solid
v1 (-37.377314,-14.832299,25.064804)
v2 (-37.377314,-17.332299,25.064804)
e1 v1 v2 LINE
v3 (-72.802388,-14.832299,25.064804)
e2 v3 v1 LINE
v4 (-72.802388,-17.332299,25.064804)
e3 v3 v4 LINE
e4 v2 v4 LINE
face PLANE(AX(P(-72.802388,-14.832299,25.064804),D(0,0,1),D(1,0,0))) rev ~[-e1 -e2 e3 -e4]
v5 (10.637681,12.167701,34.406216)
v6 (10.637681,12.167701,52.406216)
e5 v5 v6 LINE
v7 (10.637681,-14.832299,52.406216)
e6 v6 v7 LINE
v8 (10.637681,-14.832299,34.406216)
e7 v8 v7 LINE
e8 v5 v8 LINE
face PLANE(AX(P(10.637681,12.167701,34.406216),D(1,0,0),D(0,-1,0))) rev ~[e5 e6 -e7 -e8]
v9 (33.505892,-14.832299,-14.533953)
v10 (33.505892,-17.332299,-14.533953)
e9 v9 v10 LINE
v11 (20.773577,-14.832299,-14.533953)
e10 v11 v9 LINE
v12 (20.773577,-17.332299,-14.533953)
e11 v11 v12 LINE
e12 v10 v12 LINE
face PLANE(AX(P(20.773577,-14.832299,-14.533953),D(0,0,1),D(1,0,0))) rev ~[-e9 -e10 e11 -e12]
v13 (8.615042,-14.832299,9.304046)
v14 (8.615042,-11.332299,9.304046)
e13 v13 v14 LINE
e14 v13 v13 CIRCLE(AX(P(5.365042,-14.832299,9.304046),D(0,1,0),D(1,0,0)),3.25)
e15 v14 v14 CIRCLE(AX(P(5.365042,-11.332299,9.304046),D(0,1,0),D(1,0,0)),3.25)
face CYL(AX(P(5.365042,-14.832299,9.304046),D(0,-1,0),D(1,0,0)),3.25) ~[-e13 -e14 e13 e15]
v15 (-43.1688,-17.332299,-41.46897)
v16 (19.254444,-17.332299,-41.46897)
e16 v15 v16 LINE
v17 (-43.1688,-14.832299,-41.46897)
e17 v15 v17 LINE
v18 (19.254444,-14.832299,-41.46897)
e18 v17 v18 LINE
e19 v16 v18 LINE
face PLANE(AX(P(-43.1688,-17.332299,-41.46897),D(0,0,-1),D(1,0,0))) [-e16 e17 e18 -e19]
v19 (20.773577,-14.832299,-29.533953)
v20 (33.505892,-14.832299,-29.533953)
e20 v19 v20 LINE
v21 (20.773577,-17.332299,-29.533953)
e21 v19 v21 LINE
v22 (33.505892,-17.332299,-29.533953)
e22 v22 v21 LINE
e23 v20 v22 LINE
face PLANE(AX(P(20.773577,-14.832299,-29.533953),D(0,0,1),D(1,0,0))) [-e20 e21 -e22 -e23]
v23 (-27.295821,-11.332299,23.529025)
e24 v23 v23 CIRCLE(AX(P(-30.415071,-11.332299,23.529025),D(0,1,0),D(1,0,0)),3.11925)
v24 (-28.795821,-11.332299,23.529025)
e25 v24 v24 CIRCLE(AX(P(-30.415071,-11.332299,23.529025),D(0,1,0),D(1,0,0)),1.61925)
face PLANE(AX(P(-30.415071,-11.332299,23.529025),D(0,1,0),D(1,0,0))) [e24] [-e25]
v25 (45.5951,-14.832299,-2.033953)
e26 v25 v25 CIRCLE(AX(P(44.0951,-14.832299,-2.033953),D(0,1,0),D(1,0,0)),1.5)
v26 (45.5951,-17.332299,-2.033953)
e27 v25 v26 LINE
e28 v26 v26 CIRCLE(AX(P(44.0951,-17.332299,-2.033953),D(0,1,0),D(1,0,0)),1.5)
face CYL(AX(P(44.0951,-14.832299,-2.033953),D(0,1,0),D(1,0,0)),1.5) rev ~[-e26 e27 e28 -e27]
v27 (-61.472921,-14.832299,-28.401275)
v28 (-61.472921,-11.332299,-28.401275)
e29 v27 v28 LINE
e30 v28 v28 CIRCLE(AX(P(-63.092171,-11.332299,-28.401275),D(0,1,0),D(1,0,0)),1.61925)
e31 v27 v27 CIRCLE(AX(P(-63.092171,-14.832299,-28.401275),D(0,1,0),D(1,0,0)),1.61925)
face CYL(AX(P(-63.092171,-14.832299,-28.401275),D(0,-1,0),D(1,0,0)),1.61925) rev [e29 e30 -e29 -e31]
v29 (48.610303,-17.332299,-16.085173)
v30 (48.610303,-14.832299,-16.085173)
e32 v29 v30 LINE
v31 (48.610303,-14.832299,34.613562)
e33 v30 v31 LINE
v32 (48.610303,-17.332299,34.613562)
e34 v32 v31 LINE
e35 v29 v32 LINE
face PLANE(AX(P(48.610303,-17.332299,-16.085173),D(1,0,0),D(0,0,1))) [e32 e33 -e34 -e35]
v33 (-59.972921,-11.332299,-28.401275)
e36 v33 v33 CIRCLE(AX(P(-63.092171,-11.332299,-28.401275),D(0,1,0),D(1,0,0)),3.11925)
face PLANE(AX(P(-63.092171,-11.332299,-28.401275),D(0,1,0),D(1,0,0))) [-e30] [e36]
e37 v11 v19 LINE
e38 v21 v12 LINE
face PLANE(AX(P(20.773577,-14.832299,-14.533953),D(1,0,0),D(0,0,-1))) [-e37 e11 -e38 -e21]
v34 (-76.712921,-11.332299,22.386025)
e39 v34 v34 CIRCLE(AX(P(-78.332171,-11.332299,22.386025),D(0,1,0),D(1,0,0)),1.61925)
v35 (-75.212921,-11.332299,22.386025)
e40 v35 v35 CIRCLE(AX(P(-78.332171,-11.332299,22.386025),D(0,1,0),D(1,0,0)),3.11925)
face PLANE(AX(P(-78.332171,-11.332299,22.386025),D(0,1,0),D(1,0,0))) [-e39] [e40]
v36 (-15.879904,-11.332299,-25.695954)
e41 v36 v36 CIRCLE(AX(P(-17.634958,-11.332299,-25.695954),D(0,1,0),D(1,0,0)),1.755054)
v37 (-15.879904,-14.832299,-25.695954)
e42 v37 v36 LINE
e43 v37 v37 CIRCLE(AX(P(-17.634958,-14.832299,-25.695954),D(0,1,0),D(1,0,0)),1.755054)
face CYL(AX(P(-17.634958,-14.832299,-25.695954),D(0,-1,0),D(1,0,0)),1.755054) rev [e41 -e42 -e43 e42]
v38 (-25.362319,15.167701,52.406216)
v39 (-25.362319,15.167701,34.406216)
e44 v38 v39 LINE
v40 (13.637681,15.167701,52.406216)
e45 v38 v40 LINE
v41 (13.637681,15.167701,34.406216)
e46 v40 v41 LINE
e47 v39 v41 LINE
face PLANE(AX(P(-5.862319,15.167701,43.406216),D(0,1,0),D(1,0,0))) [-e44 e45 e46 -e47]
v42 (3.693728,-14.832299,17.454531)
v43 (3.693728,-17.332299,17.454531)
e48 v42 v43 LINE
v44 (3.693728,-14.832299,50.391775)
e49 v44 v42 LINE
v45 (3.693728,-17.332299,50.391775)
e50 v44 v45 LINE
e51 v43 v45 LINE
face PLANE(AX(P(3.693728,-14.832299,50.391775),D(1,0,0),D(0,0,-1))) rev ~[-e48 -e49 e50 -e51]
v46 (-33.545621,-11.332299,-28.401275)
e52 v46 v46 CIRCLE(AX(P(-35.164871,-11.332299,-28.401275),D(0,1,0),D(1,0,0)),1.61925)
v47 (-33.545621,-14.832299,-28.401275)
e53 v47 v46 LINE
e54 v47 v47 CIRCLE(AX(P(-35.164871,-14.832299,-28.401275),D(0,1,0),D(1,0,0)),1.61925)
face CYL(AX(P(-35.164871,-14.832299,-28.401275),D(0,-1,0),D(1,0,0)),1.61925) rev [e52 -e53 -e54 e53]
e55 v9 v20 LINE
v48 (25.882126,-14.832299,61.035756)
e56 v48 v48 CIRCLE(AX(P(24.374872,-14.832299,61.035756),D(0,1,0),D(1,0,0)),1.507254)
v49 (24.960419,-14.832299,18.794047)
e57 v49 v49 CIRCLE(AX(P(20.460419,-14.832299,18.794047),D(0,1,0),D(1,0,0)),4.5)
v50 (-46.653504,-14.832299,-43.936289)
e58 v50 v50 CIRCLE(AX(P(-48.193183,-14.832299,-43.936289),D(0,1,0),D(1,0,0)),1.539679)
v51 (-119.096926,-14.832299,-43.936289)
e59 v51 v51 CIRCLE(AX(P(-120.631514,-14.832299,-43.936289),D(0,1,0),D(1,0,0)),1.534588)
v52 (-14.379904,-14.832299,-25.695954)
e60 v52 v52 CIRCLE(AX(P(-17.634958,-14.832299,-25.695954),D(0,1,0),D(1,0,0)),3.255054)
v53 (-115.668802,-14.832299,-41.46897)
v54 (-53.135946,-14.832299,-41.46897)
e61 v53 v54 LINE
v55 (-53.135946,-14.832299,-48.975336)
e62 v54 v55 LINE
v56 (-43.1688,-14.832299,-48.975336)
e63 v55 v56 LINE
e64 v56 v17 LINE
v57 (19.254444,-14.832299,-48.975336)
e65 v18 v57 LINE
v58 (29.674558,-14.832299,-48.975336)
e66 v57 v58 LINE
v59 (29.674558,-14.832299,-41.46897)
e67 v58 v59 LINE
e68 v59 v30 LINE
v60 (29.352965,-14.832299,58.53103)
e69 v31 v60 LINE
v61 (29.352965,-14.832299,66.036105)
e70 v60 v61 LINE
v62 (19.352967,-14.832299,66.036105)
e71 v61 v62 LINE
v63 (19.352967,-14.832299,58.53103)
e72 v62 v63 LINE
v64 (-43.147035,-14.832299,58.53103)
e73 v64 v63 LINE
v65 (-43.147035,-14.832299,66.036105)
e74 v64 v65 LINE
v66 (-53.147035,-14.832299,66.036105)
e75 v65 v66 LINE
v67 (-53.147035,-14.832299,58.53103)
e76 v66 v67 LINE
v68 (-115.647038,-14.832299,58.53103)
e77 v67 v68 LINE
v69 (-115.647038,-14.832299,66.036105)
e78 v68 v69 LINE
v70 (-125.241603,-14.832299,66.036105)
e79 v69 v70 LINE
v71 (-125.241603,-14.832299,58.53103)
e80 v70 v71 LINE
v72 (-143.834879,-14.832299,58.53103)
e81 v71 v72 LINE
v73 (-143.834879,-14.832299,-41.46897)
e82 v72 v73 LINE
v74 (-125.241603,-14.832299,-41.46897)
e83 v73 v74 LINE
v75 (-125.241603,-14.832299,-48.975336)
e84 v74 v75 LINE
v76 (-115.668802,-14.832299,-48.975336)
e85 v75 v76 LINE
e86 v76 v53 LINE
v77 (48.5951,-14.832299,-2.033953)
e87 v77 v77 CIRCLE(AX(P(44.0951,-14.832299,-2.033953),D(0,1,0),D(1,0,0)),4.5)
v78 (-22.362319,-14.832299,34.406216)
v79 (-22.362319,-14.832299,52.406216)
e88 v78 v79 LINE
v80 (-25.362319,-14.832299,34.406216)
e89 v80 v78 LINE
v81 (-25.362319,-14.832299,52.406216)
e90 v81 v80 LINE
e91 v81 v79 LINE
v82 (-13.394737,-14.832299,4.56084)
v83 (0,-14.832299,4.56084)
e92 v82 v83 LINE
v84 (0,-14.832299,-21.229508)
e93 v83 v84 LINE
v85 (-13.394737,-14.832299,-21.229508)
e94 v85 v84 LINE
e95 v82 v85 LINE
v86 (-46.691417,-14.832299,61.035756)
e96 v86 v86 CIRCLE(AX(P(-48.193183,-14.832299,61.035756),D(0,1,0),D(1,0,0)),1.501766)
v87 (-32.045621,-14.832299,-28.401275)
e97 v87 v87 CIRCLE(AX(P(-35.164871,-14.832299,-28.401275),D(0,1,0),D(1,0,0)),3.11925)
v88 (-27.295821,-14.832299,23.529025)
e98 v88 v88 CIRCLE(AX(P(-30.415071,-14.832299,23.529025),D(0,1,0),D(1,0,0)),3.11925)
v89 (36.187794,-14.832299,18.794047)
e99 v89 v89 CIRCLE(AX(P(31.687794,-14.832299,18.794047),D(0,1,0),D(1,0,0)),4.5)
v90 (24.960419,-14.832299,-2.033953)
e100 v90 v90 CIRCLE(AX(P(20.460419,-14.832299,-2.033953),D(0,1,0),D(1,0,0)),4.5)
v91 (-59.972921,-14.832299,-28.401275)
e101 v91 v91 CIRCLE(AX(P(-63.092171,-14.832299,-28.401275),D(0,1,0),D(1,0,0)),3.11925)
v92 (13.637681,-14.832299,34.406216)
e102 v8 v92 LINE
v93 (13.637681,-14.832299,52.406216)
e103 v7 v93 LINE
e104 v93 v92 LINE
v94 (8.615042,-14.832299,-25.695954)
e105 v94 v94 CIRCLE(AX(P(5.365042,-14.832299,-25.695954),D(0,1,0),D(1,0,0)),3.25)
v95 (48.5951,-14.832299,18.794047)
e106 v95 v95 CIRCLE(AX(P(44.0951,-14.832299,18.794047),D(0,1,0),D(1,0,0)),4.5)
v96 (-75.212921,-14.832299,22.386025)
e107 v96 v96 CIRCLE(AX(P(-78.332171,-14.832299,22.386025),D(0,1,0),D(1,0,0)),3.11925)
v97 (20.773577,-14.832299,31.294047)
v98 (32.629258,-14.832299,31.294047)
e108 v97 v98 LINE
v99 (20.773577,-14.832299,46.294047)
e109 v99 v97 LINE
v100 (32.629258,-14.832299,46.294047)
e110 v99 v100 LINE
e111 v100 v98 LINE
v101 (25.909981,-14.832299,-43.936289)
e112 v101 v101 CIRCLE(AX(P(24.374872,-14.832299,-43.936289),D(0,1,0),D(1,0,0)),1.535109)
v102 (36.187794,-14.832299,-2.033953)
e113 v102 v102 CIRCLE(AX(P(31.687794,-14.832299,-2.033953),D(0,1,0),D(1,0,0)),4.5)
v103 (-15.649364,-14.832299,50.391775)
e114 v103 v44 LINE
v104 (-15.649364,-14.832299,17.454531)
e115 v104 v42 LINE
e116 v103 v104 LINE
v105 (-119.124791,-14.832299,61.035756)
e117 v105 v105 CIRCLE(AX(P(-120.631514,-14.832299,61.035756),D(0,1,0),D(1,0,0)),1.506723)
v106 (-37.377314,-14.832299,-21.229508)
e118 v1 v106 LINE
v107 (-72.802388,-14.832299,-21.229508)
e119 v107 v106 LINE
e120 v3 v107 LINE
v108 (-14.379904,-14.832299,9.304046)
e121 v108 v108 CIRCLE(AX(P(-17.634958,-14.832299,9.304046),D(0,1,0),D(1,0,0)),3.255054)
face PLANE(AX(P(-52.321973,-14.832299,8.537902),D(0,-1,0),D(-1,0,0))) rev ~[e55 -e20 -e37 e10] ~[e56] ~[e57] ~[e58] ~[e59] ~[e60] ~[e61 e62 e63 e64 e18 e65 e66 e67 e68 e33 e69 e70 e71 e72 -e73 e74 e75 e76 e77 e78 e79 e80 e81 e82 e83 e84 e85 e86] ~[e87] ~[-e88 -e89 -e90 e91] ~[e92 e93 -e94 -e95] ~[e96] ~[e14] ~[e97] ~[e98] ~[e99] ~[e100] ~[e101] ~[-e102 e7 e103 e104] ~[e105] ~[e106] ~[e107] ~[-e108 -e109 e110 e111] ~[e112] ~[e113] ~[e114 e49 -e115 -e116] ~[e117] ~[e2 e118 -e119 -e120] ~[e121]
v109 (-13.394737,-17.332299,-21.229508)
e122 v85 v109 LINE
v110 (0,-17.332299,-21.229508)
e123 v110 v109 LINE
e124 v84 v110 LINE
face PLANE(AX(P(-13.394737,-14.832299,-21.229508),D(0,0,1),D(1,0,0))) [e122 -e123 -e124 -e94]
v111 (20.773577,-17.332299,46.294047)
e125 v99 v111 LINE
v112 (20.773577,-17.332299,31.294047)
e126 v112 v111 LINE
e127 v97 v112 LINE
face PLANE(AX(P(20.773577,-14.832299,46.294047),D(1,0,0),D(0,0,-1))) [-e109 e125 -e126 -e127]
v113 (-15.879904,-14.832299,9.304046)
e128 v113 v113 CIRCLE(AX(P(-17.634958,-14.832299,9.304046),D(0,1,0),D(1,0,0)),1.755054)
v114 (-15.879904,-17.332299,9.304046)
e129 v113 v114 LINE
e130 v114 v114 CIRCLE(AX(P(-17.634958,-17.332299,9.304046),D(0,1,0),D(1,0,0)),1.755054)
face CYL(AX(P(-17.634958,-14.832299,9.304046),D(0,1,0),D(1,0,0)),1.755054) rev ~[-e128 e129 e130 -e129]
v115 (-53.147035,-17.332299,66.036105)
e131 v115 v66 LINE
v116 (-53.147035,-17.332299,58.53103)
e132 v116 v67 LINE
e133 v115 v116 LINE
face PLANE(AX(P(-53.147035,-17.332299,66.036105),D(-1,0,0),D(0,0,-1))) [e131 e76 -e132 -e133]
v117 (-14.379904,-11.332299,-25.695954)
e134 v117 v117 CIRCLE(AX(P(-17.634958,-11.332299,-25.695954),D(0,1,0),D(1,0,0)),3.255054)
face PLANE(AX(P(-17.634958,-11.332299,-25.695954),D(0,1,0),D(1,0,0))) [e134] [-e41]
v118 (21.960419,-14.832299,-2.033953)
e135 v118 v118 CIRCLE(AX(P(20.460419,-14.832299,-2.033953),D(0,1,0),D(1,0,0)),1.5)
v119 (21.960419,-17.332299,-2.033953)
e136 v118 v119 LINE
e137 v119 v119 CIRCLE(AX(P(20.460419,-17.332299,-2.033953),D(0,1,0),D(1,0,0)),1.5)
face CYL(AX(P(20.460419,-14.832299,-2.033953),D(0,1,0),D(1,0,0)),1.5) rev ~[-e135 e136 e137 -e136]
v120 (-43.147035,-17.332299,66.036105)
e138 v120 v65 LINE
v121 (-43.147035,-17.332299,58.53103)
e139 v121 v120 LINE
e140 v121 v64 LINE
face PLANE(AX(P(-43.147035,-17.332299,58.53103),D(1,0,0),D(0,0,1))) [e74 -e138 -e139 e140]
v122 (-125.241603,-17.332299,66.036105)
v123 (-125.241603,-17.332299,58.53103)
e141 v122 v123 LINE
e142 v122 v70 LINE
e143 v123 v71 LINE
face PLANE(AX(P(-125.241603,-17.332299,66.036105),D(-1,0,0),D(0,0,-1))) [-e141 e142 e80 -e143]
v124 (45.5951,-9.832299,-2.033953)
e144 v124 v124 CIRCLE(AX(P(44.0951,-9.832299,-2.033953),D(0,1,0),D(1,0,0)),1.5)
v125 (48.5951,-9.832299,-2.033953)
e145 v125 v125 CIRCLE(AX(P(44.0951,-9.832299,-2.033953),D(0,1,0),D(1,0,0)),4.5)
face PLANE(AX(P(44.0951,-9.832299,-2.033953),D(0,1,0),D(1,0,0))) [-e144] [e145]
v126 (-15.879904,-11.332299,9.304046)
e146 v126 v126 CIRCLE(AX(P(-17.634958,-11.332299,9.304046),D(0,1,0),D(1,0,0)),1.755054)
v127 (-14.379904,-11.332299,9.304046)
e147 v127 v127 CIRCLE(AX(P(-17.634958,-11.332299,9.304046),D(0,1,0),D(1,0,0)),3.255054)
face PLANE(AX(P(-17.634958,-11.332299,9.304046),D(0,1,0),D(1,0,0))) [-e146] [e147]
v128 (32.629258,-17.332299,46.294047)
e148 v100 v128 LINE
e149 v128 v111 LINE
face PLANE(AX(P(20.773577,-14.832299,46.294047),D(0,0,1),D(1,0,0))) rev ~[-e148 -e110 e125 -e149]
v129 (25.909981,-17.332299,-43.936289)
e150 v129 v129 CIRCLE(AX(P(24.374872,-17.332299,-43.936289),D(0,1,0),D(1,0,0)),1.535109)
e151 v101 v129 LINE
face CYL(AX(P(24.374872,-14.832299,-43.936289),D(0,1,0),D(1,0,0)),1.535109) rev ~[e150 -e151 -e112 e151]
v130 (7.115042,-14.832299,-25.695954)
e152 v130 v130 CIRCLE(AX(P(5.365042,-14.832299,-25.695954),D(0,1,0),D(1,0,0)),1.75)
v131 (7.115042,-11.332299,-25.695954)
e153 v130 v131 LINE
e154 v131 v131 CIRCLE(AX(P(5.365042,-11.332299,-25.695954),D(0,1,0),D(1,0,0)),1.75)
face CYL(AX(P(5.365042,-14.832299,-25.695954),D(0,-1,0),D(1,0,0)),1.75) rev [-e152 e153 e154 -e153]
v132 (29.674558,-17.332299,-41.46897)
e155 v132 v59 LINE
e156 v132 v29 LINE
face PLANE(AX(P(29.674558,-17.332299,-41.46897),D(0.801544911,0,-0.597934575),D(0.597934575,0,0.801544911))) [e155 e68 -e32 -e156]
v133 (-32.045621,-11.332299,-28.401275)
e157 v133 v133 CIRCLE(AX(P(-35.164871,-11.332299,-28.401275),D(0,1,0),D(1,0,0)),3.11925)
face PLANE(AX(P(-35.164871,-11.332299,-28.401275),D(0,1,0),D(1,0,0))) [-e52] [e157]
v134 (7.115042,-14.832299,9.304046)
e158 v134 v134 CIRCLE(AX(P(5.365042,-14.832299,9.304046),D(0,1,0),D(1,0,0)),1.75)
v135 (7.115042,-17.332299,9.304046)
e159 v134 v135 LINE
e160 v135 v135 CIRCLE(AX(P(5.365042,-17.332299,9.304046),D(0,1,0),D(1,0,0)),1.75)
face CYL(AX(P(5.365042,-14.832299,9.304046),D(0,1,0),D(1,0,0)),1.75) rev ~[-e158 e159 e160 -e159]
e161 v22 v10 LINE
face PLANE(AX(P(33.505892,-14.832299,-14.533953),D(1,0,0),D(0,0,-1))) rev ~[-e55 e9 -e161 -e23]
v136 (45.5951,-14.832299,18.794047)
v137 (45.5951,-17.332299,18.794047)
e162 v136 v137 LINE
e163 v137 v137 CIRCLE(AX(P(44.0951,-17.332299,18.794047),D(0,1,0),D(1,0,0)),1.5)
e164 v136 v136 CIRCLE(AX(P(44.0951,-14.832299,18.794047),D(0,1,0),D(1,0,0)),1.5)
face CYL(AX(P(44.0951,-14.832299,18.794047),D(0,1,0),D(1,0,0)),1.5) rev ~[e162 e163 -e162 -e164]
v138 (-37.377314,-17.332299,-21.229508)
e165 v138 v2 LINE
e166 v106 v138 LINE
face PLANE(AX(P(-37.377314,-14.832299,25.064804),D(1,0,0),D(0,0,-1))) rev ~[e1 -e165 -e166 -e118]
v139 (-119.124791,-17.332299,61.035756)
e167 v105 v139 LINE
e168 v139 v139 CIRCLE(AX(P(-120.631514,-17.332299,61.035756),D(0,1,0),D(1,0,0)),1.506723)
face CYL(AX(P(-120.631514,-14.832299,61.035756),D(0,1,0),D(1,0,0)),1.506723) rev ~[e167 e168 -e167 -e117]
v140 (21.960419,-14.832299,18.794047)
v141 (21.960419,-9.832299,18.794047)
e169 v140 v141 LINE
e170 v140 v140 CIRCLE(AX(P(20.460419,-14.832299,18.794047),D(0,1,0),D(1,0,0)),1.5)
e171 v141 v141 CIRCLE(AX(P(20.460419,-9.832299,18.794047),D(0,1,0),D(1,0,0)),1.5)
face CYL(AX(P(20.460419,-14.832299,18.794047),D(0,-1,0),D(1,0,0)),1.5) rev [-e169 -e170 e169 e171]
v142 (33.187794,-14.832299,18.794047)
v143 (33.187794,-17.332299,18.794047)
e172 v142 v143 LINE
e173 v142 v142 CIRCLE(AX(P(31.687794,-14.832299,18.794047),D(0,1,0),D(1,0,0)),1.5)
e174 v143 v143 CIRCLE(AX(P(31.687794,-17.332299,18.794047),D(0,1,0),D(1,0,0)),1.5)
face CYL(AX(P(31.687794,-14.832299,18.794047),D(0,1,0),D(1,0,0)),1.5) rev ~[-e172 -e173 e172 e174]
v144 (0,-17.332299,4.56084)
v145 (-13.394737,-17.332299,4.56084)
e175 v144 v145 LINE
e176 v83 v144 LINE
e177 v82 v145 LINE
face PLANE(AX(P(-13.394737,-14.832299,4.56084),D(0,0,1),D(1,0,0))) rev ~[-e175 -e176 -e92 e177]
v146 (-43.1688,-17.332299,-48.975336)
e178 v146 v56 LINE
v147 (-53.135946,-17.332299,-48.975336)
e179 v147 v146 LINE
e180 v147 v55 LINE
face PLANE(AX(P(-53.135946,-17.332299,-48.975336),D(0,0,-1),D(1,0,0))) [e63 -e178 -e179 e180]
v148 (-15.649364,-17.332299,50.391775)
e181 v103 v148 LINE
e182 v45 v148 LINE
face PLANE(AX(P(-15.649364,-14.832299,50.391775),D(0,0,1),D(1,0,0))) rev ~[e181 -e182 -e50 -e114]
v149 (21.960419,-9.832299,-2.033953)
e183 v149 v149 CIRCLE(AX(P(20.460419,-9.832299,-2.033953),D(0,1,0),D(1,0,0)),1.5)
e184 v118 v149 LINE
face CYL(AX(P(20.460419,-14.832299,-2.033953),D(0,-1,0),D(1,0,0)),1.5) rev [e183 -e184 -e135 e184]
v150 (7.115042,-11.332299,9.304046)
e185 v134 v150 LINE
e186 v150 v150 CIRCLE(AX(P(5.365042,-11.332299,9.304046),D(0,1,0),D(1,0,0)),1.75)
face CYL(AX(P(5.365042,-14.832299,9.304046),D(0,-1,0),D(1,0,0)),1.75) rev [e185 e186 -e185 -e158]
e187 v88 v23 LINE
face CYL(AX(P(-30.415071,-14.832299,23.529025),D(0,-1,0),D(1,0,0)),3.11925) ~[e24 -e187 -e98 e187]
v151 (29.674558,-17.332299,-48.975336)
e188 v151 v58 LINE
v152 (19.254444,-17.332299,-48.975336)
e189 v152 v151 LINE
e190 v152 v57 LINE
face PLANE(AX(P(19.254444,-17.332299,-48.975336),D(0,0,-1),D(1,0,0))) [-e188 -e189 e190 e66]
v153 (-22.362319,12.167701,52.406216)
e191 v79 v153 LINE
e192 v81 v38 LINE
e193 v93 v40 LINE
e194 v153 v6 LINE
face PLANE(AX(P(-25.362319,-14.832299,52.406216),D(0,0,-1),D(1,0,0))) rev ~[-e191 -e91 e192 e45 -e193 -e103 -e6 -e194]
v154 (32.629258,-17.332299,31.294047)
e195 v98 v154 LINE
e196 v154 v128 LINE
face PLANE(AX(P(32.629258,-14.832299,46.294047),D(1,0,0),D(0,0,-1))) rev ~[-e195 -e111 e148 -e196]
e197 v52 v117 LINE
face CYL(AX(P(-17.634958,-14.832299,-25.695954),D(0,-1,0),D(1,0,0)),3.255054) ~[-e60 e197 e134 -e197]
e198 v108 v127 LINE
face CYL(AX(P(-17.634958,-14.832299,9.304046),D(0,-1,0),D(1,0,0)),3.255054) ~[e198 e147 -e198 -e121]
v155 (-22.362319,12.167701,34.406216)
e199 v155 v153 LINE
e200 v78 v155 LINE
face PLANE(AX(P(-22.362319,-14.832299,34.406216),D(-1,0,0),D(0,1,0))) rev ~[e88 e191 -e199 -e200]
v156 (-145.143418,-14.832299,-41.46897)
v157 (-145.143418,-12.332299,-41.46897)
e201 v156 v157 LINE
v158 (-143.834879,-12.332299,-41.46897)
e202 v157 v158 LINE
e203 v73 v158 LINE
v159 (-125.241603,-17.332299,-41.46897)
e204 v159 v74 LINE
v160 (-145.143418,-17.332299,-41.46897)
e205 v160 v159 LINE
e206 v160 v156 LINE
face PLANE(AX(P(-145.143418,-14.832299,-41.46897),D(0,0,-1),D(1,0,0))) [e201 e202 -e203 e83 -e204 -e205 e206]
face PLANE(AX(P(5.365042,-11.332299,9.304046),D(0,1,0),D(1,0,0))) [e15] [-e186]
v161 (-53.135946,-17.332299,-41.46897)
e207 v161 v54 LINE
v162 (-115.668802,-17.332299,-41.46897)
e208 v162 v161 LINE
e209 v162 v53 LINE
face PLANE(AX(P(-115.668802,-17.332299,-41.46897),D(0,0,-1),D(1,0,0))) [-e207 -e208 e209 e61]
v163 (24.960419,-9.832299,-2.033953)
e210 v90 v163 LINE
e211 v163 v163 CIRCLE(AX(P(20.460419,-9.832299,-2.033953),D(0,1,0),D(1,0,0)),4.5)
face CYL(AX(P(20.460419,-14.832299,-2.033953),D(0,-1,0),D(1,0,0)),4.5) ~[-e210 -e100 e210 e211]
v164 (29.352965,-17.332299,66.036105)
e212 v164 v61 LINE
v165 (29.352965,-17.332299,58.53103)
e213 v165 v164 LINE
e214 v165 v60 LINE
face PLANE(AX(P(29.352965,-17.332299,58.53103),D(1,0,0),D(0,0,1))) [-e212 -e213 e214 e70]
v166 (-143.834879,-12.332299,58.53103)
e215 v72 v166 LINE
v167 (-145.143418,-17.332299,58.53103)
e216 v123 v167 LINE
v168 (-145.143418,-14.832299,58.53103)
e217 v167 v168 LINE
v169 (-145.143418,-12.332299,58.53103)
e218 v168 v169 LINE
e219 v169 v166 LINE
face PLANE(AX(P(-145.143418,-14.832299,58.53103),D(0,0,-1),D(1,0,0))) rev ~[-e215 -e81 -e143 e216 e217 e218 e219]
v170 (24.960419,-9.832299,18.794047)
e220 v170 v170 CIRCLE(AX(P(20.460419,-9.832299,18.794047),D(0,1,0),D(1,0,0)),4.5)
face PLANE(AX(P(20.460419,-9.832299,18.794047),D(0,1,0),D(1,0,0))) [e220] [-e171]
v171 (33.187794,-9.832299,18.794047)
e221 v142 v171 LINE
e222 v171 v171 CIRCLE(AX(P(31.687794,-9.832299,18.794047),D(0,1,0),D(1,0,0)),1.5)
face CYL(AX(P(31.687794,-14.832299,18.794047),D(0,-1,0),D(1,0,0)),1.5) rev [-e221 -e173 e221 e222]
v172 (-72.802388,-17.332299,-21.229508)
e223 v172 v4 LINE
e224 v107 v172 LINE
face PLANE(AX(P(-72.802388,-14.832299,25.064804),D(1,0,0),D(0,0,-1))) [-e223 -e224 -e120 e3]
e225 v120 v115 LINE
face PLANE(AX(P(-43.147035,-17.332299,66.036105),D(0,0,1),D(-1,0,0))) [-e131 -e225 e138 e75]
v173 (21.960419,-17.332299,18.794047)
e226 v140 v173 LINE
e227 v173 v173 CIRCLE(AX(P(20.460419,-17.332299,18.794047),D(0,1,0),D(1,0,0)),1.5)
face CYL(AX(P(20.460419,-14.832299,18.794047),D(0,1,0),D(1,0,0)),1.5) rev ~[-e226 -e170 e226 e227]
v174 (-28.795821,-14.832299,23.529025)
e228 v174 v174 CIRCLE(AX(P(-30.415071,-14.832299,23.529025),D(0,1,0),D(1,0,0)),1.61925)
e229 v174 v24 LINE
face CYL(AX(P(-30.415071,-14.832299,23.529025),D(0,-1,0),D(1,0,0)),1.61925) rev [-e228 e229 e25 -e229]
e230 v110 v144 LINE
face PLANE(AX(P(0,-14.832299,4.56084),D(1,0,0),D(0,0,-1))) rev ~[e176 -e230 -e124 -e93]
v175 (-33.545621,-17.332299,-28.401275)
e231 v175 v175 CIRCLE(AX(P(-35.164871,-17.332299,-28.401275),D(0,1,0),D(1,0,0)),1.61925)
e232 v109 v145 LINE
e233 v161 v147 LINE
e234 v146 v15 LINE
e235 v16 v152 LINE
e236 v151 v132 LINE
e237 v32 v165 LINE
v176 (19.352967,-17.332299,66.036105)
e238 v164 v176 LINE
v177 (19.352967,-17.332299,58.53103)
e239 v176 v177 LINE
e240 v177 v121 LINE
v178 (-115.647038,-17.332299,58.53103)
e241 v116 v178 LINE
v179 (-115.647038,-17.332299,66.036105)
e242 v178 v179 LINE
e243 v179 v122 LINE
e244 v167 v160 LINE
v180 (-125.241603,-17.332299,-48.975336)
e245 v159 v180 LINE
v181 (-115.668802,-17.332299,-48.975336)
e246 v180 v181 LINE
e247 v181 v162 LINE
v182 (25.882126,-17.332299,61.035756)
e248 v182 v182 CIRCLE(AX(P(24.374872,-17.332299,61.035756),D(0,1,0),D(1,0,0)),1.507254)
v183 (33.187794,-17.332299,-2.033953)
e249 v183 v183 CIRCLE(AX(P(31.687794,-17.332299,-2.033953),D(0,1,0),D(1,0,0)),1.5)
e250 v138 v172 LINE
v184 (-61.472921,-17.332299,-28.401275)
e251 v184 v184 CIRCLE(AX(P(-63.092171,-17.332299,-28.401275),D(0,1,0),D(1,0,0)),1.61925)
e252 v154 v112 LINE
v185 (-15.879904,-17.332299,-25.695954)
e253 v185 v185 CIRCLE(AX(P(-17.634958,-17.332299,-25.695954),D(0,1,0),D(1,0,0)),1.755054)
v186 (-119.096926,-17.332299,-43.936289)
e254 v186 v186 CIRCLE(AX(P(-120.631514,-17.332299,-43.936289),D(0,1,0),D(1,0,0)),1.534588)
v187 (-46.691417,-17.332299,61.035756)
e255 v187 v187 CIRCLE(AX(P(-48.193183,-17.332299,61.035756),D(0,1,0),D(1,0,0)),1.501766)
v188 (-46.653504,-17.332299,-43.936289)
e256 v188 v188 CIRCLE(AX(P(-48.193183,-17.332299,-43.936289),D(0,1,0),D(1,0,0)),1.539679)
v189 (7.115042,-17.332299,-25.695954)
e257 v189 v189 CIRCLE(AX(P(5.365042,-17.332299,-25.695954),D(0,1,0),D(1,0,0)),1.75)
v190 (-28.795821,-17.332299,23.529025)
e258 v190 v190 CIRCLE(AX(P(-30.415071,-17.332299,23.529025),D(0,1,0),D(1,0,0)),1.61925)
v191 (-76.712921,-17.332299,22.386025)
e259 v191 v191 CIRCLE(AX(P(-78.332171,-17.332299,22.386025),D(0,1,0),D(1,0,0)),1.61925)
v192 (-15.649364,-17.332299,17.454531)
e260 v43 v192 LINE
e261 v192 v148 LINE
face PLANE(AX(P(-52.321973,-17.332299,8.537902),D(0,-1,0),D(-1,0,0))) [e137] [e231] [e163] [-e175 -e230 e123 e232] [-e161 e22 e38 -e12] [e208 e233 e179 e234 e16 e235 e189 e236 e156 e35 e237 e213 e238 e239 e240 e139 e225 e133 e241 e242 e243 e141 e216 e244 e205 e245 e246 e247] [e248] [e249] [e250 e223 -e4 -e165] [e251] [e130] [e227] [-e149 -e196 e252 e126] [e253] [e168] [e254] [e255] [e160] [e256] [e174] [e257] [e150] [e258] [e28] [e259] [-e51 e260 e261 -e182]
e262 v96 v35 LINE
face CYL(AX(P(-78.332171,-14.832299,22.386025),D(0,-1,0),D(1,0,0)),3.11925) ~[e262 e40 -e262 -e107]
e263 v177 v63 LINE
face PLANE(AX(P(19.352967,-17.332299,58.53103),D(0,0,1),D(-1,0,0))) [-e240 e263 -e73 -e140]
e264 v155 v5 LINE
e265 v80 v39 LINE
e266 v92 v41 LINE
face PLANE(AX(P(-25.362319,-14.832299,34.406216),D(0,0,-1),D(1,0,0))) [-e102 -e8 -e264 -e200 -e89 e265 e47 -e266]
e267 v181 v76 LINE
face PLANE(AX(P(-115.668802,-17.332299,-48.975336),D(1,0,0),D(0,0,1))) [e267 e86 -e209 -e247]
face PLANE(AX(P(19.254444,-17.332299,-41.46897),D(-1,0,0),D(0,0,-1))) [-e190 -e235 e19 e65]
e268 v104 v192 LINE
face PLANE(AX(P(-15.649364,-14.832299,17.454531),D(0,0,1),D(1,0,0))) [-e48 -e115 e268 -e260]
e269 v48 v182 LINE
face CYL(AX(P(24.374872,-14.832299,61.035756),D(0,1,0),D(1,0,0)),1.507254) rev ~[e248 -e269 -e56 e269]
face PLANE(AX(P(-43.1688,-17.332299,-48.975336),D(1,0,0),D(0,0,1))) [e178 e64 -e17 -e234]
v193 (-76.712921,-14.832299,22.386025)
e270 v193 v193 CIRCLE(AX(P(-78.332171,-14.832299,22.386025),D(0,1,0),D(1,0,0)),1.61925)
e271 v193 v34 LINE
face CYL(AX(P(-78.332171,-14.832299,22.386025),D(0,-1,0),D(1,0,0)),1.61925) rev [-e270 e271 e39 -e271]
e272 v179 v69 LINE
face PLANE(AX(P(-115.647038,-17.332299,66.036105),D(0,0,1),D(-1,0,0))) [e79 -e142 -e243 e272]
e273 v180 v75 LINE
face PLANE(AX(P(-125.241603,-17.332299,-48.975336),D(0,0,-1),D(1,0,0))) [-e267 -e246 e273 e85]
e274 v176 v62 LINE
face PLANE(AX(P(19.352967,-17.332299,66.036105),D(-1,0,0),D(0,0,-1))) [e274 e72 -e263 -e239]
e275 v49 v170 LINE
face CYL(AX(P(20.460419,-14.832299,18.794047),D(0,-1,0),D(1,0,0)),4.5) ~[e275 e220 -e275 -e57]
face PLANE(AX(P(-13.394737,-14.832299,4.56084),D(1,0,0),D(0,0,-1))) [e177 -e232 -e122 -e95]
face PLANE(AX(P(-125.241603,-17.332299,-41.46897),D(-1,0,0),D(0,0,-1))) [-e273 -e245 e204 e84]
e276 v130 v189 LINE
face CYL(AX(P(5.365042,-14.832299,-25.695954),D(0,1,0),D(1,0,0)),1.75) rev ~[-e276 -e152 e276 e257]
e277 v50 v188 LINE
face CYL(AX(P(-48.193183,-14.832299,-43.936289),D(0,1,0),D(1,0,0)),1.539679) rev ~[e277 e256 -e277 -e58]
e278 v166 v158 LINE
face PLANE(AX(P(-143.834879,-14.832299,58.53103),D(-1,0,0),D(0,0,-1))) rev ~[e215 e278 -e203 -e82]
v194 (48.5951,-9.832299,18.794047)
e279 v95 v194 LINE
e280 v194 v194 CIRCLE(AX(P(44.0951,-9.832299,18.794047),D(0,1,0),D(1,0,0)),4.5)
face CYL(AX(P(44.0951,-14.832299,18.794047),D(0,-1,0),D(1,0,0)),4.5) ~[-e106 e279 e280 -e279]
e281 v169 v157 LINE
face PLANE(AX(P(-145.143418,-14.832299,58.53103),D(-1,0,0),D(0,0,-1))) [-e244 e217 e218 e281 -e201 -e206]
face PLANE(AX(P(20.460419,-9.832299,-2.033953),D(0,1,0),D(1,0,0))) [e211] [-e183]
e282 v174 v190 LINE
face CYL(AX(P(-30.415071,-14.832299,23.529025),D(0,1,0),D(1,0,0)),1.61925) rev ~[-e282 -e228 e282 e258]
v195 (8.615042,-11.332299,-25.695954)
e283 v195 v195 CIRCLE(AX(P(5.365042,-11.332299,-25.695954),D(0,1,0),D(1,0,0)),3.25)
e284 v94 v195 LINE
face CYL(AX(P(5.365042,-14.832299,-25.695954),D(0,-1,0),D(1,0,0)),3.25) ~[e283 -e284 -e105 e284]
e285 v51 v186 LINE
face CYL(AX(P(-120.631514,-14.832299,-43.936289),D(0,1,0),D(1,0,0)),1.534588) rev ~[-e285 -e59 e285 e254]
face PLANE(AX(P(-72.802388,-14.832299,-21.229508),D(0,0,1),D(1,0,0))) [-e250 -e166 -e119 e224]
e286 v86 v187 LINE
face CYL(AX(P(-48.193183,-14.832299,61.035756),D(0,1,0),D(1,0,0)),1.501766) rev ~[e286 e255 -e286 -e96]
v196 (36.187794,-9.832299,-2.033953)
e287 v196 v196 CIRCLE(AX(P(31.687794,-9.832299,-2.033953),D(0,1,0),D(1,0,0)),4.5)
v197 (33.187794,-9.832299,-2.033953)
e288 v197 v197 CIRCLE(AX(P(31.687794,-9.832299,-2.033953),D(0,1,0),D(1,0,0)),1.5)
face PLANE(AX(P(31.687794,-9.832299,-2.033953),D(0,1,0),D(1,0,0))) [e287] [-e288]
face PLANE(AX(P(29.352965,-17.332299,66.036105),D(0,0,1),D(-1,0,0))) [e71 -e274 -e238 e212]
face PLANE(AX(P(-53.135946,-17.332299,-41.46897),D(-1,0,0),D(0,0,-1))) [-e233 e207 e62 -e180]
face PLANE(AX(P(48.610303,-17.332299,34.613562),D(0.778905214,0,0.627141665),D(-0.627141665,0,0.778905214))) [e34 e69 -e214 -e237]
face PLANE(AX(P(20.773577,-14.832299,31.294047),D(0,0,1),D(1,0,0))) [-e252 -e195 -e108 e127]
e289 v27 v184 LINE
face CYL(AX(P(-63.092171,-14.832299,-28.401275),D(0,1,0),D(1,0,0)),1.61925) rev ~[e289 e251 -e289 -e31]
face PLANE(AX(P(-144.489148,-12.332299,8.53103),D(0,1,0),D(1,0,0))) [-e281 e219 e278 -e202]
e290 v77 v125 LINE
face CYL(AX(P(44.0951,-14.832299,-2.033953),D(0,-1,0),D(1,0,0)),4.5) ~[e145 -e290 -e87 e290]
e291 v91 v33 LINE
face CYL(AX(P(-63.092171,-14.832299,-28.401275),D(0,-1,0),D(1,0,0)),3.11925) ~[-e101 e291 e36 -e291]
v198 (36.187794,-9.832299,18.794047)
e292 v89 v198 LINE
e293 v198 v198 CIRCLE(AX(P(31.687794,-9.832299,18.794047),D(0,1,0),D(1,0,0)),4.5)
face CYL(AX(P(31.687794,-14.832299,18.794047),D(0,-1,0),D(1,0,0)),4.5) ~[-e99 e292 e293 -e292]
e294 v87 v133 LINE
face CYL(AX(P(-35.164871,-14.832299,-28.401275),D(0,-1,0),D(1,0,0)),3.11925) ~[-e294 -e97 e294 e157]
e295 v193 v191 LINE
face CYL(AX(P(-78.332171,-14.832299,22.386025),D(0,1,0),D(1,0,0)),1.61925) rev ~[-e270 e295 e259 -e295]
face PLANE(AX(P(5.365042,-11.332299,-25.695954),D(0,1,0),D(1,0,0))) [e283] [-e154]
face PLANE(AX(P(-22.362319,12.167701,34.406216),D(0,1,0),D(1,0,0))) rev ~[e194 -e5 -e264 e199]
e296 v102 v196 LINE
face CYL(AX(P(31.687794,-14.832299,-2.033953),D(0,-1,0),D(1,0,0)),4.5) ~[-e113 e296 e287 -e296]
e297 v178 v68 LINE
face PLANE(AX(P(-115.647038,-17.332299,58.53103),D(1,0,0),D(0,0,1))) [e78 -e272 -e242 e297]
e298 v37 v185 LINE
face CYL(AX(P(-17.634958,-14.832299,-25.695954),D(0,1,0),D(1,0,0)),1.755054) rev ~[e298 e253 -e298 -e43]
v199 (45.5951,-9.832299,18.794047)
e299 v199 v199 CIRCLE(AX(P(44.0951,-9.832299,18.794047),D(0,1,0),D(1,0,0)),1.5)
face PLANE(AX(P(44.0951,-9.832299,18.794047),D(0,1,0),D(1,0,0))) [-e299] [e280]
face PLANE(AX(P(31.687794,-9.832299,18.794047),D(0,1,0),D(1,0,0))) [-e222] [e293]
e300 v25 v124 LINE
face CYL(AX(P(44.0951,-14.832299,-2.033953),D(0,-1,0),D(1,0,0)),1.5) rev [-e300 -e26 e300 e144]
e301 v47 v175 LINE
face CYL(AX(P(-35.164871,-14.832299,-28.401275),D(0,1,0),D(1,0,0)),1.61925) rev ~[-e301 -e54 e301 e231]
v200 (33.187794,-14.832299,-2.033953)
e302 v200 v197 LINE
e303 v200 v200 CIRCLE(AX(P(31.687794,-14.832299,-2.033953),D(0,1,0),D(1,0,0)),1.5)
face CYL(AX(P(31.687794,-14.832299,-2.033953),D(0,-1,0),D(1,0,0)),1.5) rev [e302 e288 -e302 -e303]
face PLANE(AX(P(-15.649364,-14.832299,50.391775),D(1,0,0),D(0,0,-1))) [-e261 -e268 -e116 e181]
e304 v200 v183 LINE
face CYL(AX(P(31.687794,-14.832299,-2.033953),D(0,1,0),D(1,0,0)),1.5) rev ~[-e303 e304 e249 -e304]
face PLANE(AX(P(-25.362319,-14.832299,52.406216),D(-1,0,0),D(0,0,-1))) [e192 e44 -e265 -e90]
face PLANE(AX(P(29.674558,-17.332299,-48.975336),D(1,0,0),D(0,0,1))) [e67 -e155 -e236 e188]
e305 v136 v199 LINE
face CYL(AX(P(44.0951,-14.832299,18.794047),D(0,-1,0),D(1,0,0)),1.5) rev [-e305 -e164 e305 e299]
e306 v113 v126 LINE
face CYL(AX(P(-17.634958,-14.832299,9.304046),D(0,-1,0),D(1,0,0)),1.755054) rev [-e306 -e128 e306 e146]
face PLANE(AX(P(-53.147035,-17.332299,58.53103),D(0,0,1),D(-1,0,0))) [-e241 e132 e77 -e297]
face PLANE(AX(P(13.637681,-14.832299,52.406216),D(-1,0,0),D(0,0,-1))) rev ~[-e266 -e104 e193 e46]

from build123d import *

# Parameters (mm, degrees)
BOSS_EXTRUDE1_DEPTH      = 2.5
SKETCH24_R               = 1.534588162
SKETCH24_R_2             = 1.539679215
SKETCH24_R_3             = 1.53510928
SKETCH24_R_4             = 1.507254119
SKETCH24_R_5             = 1.501766116
SKETCH24_R_6             = 1.506723366
CUT_EXTRUDE7_DEPTH       = 1
CUT_EXTRUDE7_DEPTH_BACK  = 3.5
SKETCH28_R               = 4.5
SKETCH28_R_2             = 1.5
BOSS_EXTRUDE4_DEPTH      = 5
SKETCH29_R               = 1.5
CUT_EXTRUDE10_DEPTH      = 6
CUT_EXTRUDE10_DEPTH_BACK = 3.5
SKETCH30_W               = 39
SKETCH30_H               = 18
BOSS_EXTRUDE5_DEPTH      = 30
CUT_EXTRUDE11_DEPTH      = 32.629888849
SKETCH32_R               = 3.11925
SKETCH32_R_2             = 1.61925
SKETCH32_R_3             = 3.25
SKETCH32_R_4             = 1.75
SKETCH32_R_5             = 3.255054338
SKETCH32_R_6             = 1.755054338
BOSS_EXTRUDE6_DEPTH      = 3.5
SKETCH33_R               = 1.755054338
SKETCH33_R_2             = 1.75
SKETCH33_R_3             = 1.61925
CUT_EXTRUDE12_DEPTH      = 31
CUT_EXTRUDE12_DEPTH_BACK = 3.5
SKETCH34_W               = 35.425074467
SKETCH34_H               = 46.294311582
SKETCH34_W_2             = 13.394736858
SKETCH34_H_2             = 25.79034775
SKETCH34_W_3             = 19.34309219
SKETCH34_H_3             = 32.937244524
SKETCH34_W_4             = 12.732315529
SKETCH34_H_4             = 15
SKETCH34_W_5             = 11.855681534
CUT_EXTRUDE13_DEPTH      = 3.5
SKETCH35_W               = 1.308538477
SKETCH35_H               = 100
BOSS_EXTRUDE7_DEPTH      = 2.5


with BuildPart() as part:
    # Sketch2 → Boss-Extrude1 (new body)
    with BuildSketch(Plane(origin=(0, -17.332299444, 0), x_dir=(-1, 0, 0), z_dir=(0, -1, 0))):
        Polygon((-29.674557938, 41.468970044), (-48.61030302, 16.085172631), (-48.61030302, -34.61356185), (-29.352965282, -58.531029956), (-29.352965282, -66.036105098), (-19.352967368, -66.036105098), (-19.352967368, -58.531029956), (43.147035426, -58.531029956), (43.147035426, -66.036105098), (53.147035202, -66.036105098), (53.147035202, -58.531029956), (115.647037996, -58.531029956), (115.647037996, -66.036105098), (125.241603418, -66.036105098), (125.241603418, -58.531029956), (145.143417646, -58.531029956), (145.143417646, 41.468970044), (125.241603418, 41.468970044), (125.241603418, 48.975336237), (115.668802349, 48.975336237), (115.668802349, 41.468970044), (53.135946408, 41.468970044), (53.135946408, 48.975336237), (43.168799778, 48.975336237), (43.168799778, 41.468970044), (-19.254443916, 41.468970044), (-19.254443916, 48.975336237), (-29.674557938, 48.975336237), align=None)
    extrude(amount=-BOSS_EXTRUDE1_DEPTH)

    # Sketch24 → Cut-Extrude7 (cut, two sides)
    with BuildSketch(Plane(origin=(0, -14.832299444, 0), x_dir=(1, 0, 0), z_dir=(0, 1, 0))) as cut_extrude7_sk:
        with Locations((-120.631514326, 43.936289371)):
            Circle(SKETCH24_R)
        with Locations((-48.193182725, 43.936289371)):
            Circle(SKETCH24_R_2)
        with Locations((24.374871647, 43.936289371)):
            Circle(SKETCH24_R_3)
        with Locations((24.374871647, -61.035755979)):
            Circle(SKETCH24_R_4)
        with Locations((-48.193182725, -61.035755979)):
            Circle(SKETCH24_R_5)
        with Locations((-120.631514326, -61.035755979)):
            Circle(SKETCH24_R_6)
    extrude(amount=CUT_EXTRUDE7_DEPTH, mode=Mode.SUBTRACT)
    extrude(cut_extrude7_sk.sketch, amount=-CUT_EXTRUDE7_DEPTH_BACK, mode=Mode.SUBTRACT)

    # Sketch28 → Boss-Extrude4 (add)
    with BuildSketch(Plane(origin=(0, -14.832299444, 0), x_dir=(1, 0, 0), z_dir=(0, 1, 0))):
        with Locations((44.095100387, -18.794047136)):
            Circle(SKETCH28_R)
        with Locations((44.095100387, -18.794047136)):
            Circle(SKETCH28_R_2, mode=Mode.SUBTRACT)
        with Locations((44.095100387, 2.033952864)):
            Circle(SKETCH28_R)
        with Locations((44.095100387, 2.033952864)):
            Circle(SKETCH28_R_2, mode=Mode.SUBTRACT)
        with Locations((31.687794159, 2.033952864)):
            Circle(SKETCH28_R)
        with Locations((31.687794159, 2.033952864)):
            Circle(SKETCH28_R_2, mode=Mode.SUBTRACT)
        with Locations((31.687794159, -18.794047136)):
            Circle(SKETCH28_R)
        with Locations((31.687794159, -18.794047136)):
            Circle(SKETCH28_R_2, mode=Mode.SUBTRACT)
        with Locations((20.460418505, 2.033952864)):
            Circle(SKETCH28_R)
        with Locations((20.460418505, 2.033952864)):
            Circle(SKETCH28_R_2, mode=Mode.SUBTRACT)
        with Locations((20.460418505, -18.794047136)):
            Circle(SKETCH28_R)
        with Locations((20.460418505, -18.794047136)):
            Circle(SKETCH28_R_2, mode=Mode.SUBTRACT)
    extrude(amount=BOSS_EXTRUDE4_DEPTH)

    # Sketch29 → Cut-Extrude10 (cut, two sides)
    with BuildSketch(Plane(origin=(0, -14.832299444, 0), x_dir=(1, 0, 0), z_dir=(0, 1, 0))) as cut_extrude10_sk:
        with Locations((44.095100387, -18.794047136)):
            Circle(SKETCH29_R)
        with Locations((44.095100387, 2.033952864)):
            Circle(SKETCH29_R)
        with Locations((20.460418505, -18.794047136)):
            Circle(SKETCH29_R)
        with Locations((20.460418505, 2.033952864)):
            Circle(SKETCH29_R)
        with Locations((31.687794159, 2.033952864)):
            Circle(SKETCH29_R)
        with Locations((31.687794159, -18.794047136)):
            Circle(SKETCH29_R)
    extrude(amount=CUT_EXTRUDE10_DEPTH, mode=Mode.SUBTRACT)
    extrude(cut_extrude10_sk.sketch, amount=-CUT_EXTRUDE10_DEPTH_BACK, mode=Mode.SUBTRACT)

    # Sketch30 → Boss-Extrude5 (add)
    with BuildSketch(Plane(origin=(0, -14.832299444, 0), x_dir=(1, 0, 0), z_dir=(0, 1, 0))):
        with Locations((-5.862319178, -43.406216249)):
            Rectangle(SKETCH30_W, SKETCH30_H)
    extrude(amount=BOSS_EXTRUDE5_DEPTH)

    # Sketch31 → Cut-Extrude11 (cut, through all)
    with BuildSketch(Plane(origin=(0, 0, 34.406216249), x_dir=(-1, 0, 0), z_dir=(0, 0, -1))):
        Polygon((-10.637680822, -11.832299444), (-10.637680822, -14.832299444), (22.362319178, -14.832299444), (22.362319178, -11.832299444), (22.362319178, 12.167700556), (-10.637680822, 12.167700556), align=None)
    extrude(amount=-CUT_EXTRUDE11_DEPTH, mode=Mode.SUBTRACT)

    # Sketch32 → Boss-Extrude6 (add)
    with BuildSketch(Plane(origin=(0, -14.832299444, 0), x_dir=(1, 0, 0), z_dir=(0, 1, 0))):
        with Locations((-78.332170896, -22.386024774)):
            Circle(SKETCH32_R)
        with Locations((-78.332170896, -22.386024774)):
            Circle(SKETCH32_R_2, mode=Mode.SUBTRACT)
        with Locations((-63.092170896, 28.401275226)):
            Circle(SKETCH32_R)
        with Locations((-63.092170896, 28.401275226)):
            Circle(SKETCH32_R_2, mode=Mode.SUBTRACT)
        with Locations((-35.164870896, 28.401275226)):
            Circle(SKETCH32_R)
        with Locations((-35.164870896, 28.401275226)):
            Circle(SKETCH32_R_2, mode=Mode.SUBTRACT)
        with Locations((-30.415070896, -23.529024774)):
            Circle(SKETCH32_R)
        with Locations((-30.415070896, -23.529024774)):
            Circle(SKETCH32_R_2, mode=Mode.SUBTRACT)
        with Locations((5.365042011, 25.69595377)):
            Circle(SKETCH32_R_3)
        with Locations((5.365042011, 25.69595377)):
            Circle(SKETCH32_R_4, mode=Mode.SUBTRACT)
        with Locations((5.365042011, -9.30404623)):
            Circle(SKETCH32_R_3)
        with Locations((5.365042011, -9.30404623)):
            Circle(SKETCH32_R_4, mode=Mode.SUBTRACT)
        with Locations((-17.634957989, -9.30404623)):
            Circle(SKETCH32_R_5)
        with Locations((-17.634957989, -9.30404623)):
            Circle(SKETCH32_R_6, mode=Mode.SUBTRACT)
        with Locations((-17.634957989, 25.69595377)):
            Circle(SKETCH32_R_5)
        with Locations((-17.634957989, 25.69595377)):
            Circle(SKETCH32_R_6, mode=Mode.SUBTRACT)
    extrude(amount=BOSS_EXTRUDE6_DEPTH)

    # Sketch33 → Cut-Extrude12 (cut, two sides)
    with BuildSketch(Plane(origin=(0, -14.832299444, 0), x_dir=(1, 0, 0), z_dir=(0, 1, 0))) as cut_extrude12_sk:
        with Locations((-17.634957989, 25.69595377)):
            Circle(SKETCH33_R)
        with Locations((-17.634957989, -9.30404623)):
            Circle(SKETCH33_R)
        with Locations((5.365042011, -9.30404623)):
            Circle(SKETCH33_R_2)
        with Locations((5.365042011, 25.69595377)):
            Circle(SKETCH33_R_2)
        with Locations((-78.332170896, -22.386024774)):
            Circle(SKETCH33_R_3)
        with Locations((-63.092170896, 28.401275226)):
            Circle(SKETCH33_R_3)
        with Locations((-35.164870896, 28.401275226)):
            Circle(SKETCH33_R_3)
        with Locations((-30.415070896, -23.529024774)):
            Circle(SKETCH33_R_3)
    extrude(amount=CUT_EXTRUDE12_DEPTH, mode=Mode.SUBTRACT)
    extrude(cut_extrude12_sk.sketch, amount=-CUT_EXTRUDE12_DEPTH_BACK, mode=Mode.SUBTRACT)

    # Sketch34 → Cut-Extrude13 (cut, through all)
    with BuildSketch(Plane(origin=(0, -14.832299444, 0), x_dir=(1, 0, 0), z_dir=(0, 1, 0))):
        with Locations((-55.089850794, -1.917647795)):
            Rectangle(SKETCH34_W, SKETCH34_H)
        with Locations((-6.697368429, 8.334334121)):
            Rectangle(SKETCH34_W_2, SKETCH34_H_2)
        with Locations((-5.977817897, -33.923153054)):
            Rectangle(SKETCH34_W_3, SKETCH34_H_3)
        with Locations((27.139734393, 22.033952864)):
            Rectangle(SKETCH34_W_4, SKETCH34_H_4)
        with Locations((26.701417396, -38.794047136)):
            Rectangle(SKETCH34_W_5, SKETCH34_H_4)
    extrude(amount=-CUT_EXTRUDE13_DEPTH, mode=Mode.SUBTRACT)

    # Sketch35 → Boss-Extrude7 (add)
    with BuildSketch(Plane(origin=(0, -14.832299444, 0), x_dir=(1, 0, 0), z_dir=(0, 1, 0))):
        with Locations((-144.489148408, -8.531029956)):
            Rectangle(SKETCH35_W, SKETCH35_H)
    extrude(amount=BOSS_EXTRUDE7_DEPTH)


solid = part.part
